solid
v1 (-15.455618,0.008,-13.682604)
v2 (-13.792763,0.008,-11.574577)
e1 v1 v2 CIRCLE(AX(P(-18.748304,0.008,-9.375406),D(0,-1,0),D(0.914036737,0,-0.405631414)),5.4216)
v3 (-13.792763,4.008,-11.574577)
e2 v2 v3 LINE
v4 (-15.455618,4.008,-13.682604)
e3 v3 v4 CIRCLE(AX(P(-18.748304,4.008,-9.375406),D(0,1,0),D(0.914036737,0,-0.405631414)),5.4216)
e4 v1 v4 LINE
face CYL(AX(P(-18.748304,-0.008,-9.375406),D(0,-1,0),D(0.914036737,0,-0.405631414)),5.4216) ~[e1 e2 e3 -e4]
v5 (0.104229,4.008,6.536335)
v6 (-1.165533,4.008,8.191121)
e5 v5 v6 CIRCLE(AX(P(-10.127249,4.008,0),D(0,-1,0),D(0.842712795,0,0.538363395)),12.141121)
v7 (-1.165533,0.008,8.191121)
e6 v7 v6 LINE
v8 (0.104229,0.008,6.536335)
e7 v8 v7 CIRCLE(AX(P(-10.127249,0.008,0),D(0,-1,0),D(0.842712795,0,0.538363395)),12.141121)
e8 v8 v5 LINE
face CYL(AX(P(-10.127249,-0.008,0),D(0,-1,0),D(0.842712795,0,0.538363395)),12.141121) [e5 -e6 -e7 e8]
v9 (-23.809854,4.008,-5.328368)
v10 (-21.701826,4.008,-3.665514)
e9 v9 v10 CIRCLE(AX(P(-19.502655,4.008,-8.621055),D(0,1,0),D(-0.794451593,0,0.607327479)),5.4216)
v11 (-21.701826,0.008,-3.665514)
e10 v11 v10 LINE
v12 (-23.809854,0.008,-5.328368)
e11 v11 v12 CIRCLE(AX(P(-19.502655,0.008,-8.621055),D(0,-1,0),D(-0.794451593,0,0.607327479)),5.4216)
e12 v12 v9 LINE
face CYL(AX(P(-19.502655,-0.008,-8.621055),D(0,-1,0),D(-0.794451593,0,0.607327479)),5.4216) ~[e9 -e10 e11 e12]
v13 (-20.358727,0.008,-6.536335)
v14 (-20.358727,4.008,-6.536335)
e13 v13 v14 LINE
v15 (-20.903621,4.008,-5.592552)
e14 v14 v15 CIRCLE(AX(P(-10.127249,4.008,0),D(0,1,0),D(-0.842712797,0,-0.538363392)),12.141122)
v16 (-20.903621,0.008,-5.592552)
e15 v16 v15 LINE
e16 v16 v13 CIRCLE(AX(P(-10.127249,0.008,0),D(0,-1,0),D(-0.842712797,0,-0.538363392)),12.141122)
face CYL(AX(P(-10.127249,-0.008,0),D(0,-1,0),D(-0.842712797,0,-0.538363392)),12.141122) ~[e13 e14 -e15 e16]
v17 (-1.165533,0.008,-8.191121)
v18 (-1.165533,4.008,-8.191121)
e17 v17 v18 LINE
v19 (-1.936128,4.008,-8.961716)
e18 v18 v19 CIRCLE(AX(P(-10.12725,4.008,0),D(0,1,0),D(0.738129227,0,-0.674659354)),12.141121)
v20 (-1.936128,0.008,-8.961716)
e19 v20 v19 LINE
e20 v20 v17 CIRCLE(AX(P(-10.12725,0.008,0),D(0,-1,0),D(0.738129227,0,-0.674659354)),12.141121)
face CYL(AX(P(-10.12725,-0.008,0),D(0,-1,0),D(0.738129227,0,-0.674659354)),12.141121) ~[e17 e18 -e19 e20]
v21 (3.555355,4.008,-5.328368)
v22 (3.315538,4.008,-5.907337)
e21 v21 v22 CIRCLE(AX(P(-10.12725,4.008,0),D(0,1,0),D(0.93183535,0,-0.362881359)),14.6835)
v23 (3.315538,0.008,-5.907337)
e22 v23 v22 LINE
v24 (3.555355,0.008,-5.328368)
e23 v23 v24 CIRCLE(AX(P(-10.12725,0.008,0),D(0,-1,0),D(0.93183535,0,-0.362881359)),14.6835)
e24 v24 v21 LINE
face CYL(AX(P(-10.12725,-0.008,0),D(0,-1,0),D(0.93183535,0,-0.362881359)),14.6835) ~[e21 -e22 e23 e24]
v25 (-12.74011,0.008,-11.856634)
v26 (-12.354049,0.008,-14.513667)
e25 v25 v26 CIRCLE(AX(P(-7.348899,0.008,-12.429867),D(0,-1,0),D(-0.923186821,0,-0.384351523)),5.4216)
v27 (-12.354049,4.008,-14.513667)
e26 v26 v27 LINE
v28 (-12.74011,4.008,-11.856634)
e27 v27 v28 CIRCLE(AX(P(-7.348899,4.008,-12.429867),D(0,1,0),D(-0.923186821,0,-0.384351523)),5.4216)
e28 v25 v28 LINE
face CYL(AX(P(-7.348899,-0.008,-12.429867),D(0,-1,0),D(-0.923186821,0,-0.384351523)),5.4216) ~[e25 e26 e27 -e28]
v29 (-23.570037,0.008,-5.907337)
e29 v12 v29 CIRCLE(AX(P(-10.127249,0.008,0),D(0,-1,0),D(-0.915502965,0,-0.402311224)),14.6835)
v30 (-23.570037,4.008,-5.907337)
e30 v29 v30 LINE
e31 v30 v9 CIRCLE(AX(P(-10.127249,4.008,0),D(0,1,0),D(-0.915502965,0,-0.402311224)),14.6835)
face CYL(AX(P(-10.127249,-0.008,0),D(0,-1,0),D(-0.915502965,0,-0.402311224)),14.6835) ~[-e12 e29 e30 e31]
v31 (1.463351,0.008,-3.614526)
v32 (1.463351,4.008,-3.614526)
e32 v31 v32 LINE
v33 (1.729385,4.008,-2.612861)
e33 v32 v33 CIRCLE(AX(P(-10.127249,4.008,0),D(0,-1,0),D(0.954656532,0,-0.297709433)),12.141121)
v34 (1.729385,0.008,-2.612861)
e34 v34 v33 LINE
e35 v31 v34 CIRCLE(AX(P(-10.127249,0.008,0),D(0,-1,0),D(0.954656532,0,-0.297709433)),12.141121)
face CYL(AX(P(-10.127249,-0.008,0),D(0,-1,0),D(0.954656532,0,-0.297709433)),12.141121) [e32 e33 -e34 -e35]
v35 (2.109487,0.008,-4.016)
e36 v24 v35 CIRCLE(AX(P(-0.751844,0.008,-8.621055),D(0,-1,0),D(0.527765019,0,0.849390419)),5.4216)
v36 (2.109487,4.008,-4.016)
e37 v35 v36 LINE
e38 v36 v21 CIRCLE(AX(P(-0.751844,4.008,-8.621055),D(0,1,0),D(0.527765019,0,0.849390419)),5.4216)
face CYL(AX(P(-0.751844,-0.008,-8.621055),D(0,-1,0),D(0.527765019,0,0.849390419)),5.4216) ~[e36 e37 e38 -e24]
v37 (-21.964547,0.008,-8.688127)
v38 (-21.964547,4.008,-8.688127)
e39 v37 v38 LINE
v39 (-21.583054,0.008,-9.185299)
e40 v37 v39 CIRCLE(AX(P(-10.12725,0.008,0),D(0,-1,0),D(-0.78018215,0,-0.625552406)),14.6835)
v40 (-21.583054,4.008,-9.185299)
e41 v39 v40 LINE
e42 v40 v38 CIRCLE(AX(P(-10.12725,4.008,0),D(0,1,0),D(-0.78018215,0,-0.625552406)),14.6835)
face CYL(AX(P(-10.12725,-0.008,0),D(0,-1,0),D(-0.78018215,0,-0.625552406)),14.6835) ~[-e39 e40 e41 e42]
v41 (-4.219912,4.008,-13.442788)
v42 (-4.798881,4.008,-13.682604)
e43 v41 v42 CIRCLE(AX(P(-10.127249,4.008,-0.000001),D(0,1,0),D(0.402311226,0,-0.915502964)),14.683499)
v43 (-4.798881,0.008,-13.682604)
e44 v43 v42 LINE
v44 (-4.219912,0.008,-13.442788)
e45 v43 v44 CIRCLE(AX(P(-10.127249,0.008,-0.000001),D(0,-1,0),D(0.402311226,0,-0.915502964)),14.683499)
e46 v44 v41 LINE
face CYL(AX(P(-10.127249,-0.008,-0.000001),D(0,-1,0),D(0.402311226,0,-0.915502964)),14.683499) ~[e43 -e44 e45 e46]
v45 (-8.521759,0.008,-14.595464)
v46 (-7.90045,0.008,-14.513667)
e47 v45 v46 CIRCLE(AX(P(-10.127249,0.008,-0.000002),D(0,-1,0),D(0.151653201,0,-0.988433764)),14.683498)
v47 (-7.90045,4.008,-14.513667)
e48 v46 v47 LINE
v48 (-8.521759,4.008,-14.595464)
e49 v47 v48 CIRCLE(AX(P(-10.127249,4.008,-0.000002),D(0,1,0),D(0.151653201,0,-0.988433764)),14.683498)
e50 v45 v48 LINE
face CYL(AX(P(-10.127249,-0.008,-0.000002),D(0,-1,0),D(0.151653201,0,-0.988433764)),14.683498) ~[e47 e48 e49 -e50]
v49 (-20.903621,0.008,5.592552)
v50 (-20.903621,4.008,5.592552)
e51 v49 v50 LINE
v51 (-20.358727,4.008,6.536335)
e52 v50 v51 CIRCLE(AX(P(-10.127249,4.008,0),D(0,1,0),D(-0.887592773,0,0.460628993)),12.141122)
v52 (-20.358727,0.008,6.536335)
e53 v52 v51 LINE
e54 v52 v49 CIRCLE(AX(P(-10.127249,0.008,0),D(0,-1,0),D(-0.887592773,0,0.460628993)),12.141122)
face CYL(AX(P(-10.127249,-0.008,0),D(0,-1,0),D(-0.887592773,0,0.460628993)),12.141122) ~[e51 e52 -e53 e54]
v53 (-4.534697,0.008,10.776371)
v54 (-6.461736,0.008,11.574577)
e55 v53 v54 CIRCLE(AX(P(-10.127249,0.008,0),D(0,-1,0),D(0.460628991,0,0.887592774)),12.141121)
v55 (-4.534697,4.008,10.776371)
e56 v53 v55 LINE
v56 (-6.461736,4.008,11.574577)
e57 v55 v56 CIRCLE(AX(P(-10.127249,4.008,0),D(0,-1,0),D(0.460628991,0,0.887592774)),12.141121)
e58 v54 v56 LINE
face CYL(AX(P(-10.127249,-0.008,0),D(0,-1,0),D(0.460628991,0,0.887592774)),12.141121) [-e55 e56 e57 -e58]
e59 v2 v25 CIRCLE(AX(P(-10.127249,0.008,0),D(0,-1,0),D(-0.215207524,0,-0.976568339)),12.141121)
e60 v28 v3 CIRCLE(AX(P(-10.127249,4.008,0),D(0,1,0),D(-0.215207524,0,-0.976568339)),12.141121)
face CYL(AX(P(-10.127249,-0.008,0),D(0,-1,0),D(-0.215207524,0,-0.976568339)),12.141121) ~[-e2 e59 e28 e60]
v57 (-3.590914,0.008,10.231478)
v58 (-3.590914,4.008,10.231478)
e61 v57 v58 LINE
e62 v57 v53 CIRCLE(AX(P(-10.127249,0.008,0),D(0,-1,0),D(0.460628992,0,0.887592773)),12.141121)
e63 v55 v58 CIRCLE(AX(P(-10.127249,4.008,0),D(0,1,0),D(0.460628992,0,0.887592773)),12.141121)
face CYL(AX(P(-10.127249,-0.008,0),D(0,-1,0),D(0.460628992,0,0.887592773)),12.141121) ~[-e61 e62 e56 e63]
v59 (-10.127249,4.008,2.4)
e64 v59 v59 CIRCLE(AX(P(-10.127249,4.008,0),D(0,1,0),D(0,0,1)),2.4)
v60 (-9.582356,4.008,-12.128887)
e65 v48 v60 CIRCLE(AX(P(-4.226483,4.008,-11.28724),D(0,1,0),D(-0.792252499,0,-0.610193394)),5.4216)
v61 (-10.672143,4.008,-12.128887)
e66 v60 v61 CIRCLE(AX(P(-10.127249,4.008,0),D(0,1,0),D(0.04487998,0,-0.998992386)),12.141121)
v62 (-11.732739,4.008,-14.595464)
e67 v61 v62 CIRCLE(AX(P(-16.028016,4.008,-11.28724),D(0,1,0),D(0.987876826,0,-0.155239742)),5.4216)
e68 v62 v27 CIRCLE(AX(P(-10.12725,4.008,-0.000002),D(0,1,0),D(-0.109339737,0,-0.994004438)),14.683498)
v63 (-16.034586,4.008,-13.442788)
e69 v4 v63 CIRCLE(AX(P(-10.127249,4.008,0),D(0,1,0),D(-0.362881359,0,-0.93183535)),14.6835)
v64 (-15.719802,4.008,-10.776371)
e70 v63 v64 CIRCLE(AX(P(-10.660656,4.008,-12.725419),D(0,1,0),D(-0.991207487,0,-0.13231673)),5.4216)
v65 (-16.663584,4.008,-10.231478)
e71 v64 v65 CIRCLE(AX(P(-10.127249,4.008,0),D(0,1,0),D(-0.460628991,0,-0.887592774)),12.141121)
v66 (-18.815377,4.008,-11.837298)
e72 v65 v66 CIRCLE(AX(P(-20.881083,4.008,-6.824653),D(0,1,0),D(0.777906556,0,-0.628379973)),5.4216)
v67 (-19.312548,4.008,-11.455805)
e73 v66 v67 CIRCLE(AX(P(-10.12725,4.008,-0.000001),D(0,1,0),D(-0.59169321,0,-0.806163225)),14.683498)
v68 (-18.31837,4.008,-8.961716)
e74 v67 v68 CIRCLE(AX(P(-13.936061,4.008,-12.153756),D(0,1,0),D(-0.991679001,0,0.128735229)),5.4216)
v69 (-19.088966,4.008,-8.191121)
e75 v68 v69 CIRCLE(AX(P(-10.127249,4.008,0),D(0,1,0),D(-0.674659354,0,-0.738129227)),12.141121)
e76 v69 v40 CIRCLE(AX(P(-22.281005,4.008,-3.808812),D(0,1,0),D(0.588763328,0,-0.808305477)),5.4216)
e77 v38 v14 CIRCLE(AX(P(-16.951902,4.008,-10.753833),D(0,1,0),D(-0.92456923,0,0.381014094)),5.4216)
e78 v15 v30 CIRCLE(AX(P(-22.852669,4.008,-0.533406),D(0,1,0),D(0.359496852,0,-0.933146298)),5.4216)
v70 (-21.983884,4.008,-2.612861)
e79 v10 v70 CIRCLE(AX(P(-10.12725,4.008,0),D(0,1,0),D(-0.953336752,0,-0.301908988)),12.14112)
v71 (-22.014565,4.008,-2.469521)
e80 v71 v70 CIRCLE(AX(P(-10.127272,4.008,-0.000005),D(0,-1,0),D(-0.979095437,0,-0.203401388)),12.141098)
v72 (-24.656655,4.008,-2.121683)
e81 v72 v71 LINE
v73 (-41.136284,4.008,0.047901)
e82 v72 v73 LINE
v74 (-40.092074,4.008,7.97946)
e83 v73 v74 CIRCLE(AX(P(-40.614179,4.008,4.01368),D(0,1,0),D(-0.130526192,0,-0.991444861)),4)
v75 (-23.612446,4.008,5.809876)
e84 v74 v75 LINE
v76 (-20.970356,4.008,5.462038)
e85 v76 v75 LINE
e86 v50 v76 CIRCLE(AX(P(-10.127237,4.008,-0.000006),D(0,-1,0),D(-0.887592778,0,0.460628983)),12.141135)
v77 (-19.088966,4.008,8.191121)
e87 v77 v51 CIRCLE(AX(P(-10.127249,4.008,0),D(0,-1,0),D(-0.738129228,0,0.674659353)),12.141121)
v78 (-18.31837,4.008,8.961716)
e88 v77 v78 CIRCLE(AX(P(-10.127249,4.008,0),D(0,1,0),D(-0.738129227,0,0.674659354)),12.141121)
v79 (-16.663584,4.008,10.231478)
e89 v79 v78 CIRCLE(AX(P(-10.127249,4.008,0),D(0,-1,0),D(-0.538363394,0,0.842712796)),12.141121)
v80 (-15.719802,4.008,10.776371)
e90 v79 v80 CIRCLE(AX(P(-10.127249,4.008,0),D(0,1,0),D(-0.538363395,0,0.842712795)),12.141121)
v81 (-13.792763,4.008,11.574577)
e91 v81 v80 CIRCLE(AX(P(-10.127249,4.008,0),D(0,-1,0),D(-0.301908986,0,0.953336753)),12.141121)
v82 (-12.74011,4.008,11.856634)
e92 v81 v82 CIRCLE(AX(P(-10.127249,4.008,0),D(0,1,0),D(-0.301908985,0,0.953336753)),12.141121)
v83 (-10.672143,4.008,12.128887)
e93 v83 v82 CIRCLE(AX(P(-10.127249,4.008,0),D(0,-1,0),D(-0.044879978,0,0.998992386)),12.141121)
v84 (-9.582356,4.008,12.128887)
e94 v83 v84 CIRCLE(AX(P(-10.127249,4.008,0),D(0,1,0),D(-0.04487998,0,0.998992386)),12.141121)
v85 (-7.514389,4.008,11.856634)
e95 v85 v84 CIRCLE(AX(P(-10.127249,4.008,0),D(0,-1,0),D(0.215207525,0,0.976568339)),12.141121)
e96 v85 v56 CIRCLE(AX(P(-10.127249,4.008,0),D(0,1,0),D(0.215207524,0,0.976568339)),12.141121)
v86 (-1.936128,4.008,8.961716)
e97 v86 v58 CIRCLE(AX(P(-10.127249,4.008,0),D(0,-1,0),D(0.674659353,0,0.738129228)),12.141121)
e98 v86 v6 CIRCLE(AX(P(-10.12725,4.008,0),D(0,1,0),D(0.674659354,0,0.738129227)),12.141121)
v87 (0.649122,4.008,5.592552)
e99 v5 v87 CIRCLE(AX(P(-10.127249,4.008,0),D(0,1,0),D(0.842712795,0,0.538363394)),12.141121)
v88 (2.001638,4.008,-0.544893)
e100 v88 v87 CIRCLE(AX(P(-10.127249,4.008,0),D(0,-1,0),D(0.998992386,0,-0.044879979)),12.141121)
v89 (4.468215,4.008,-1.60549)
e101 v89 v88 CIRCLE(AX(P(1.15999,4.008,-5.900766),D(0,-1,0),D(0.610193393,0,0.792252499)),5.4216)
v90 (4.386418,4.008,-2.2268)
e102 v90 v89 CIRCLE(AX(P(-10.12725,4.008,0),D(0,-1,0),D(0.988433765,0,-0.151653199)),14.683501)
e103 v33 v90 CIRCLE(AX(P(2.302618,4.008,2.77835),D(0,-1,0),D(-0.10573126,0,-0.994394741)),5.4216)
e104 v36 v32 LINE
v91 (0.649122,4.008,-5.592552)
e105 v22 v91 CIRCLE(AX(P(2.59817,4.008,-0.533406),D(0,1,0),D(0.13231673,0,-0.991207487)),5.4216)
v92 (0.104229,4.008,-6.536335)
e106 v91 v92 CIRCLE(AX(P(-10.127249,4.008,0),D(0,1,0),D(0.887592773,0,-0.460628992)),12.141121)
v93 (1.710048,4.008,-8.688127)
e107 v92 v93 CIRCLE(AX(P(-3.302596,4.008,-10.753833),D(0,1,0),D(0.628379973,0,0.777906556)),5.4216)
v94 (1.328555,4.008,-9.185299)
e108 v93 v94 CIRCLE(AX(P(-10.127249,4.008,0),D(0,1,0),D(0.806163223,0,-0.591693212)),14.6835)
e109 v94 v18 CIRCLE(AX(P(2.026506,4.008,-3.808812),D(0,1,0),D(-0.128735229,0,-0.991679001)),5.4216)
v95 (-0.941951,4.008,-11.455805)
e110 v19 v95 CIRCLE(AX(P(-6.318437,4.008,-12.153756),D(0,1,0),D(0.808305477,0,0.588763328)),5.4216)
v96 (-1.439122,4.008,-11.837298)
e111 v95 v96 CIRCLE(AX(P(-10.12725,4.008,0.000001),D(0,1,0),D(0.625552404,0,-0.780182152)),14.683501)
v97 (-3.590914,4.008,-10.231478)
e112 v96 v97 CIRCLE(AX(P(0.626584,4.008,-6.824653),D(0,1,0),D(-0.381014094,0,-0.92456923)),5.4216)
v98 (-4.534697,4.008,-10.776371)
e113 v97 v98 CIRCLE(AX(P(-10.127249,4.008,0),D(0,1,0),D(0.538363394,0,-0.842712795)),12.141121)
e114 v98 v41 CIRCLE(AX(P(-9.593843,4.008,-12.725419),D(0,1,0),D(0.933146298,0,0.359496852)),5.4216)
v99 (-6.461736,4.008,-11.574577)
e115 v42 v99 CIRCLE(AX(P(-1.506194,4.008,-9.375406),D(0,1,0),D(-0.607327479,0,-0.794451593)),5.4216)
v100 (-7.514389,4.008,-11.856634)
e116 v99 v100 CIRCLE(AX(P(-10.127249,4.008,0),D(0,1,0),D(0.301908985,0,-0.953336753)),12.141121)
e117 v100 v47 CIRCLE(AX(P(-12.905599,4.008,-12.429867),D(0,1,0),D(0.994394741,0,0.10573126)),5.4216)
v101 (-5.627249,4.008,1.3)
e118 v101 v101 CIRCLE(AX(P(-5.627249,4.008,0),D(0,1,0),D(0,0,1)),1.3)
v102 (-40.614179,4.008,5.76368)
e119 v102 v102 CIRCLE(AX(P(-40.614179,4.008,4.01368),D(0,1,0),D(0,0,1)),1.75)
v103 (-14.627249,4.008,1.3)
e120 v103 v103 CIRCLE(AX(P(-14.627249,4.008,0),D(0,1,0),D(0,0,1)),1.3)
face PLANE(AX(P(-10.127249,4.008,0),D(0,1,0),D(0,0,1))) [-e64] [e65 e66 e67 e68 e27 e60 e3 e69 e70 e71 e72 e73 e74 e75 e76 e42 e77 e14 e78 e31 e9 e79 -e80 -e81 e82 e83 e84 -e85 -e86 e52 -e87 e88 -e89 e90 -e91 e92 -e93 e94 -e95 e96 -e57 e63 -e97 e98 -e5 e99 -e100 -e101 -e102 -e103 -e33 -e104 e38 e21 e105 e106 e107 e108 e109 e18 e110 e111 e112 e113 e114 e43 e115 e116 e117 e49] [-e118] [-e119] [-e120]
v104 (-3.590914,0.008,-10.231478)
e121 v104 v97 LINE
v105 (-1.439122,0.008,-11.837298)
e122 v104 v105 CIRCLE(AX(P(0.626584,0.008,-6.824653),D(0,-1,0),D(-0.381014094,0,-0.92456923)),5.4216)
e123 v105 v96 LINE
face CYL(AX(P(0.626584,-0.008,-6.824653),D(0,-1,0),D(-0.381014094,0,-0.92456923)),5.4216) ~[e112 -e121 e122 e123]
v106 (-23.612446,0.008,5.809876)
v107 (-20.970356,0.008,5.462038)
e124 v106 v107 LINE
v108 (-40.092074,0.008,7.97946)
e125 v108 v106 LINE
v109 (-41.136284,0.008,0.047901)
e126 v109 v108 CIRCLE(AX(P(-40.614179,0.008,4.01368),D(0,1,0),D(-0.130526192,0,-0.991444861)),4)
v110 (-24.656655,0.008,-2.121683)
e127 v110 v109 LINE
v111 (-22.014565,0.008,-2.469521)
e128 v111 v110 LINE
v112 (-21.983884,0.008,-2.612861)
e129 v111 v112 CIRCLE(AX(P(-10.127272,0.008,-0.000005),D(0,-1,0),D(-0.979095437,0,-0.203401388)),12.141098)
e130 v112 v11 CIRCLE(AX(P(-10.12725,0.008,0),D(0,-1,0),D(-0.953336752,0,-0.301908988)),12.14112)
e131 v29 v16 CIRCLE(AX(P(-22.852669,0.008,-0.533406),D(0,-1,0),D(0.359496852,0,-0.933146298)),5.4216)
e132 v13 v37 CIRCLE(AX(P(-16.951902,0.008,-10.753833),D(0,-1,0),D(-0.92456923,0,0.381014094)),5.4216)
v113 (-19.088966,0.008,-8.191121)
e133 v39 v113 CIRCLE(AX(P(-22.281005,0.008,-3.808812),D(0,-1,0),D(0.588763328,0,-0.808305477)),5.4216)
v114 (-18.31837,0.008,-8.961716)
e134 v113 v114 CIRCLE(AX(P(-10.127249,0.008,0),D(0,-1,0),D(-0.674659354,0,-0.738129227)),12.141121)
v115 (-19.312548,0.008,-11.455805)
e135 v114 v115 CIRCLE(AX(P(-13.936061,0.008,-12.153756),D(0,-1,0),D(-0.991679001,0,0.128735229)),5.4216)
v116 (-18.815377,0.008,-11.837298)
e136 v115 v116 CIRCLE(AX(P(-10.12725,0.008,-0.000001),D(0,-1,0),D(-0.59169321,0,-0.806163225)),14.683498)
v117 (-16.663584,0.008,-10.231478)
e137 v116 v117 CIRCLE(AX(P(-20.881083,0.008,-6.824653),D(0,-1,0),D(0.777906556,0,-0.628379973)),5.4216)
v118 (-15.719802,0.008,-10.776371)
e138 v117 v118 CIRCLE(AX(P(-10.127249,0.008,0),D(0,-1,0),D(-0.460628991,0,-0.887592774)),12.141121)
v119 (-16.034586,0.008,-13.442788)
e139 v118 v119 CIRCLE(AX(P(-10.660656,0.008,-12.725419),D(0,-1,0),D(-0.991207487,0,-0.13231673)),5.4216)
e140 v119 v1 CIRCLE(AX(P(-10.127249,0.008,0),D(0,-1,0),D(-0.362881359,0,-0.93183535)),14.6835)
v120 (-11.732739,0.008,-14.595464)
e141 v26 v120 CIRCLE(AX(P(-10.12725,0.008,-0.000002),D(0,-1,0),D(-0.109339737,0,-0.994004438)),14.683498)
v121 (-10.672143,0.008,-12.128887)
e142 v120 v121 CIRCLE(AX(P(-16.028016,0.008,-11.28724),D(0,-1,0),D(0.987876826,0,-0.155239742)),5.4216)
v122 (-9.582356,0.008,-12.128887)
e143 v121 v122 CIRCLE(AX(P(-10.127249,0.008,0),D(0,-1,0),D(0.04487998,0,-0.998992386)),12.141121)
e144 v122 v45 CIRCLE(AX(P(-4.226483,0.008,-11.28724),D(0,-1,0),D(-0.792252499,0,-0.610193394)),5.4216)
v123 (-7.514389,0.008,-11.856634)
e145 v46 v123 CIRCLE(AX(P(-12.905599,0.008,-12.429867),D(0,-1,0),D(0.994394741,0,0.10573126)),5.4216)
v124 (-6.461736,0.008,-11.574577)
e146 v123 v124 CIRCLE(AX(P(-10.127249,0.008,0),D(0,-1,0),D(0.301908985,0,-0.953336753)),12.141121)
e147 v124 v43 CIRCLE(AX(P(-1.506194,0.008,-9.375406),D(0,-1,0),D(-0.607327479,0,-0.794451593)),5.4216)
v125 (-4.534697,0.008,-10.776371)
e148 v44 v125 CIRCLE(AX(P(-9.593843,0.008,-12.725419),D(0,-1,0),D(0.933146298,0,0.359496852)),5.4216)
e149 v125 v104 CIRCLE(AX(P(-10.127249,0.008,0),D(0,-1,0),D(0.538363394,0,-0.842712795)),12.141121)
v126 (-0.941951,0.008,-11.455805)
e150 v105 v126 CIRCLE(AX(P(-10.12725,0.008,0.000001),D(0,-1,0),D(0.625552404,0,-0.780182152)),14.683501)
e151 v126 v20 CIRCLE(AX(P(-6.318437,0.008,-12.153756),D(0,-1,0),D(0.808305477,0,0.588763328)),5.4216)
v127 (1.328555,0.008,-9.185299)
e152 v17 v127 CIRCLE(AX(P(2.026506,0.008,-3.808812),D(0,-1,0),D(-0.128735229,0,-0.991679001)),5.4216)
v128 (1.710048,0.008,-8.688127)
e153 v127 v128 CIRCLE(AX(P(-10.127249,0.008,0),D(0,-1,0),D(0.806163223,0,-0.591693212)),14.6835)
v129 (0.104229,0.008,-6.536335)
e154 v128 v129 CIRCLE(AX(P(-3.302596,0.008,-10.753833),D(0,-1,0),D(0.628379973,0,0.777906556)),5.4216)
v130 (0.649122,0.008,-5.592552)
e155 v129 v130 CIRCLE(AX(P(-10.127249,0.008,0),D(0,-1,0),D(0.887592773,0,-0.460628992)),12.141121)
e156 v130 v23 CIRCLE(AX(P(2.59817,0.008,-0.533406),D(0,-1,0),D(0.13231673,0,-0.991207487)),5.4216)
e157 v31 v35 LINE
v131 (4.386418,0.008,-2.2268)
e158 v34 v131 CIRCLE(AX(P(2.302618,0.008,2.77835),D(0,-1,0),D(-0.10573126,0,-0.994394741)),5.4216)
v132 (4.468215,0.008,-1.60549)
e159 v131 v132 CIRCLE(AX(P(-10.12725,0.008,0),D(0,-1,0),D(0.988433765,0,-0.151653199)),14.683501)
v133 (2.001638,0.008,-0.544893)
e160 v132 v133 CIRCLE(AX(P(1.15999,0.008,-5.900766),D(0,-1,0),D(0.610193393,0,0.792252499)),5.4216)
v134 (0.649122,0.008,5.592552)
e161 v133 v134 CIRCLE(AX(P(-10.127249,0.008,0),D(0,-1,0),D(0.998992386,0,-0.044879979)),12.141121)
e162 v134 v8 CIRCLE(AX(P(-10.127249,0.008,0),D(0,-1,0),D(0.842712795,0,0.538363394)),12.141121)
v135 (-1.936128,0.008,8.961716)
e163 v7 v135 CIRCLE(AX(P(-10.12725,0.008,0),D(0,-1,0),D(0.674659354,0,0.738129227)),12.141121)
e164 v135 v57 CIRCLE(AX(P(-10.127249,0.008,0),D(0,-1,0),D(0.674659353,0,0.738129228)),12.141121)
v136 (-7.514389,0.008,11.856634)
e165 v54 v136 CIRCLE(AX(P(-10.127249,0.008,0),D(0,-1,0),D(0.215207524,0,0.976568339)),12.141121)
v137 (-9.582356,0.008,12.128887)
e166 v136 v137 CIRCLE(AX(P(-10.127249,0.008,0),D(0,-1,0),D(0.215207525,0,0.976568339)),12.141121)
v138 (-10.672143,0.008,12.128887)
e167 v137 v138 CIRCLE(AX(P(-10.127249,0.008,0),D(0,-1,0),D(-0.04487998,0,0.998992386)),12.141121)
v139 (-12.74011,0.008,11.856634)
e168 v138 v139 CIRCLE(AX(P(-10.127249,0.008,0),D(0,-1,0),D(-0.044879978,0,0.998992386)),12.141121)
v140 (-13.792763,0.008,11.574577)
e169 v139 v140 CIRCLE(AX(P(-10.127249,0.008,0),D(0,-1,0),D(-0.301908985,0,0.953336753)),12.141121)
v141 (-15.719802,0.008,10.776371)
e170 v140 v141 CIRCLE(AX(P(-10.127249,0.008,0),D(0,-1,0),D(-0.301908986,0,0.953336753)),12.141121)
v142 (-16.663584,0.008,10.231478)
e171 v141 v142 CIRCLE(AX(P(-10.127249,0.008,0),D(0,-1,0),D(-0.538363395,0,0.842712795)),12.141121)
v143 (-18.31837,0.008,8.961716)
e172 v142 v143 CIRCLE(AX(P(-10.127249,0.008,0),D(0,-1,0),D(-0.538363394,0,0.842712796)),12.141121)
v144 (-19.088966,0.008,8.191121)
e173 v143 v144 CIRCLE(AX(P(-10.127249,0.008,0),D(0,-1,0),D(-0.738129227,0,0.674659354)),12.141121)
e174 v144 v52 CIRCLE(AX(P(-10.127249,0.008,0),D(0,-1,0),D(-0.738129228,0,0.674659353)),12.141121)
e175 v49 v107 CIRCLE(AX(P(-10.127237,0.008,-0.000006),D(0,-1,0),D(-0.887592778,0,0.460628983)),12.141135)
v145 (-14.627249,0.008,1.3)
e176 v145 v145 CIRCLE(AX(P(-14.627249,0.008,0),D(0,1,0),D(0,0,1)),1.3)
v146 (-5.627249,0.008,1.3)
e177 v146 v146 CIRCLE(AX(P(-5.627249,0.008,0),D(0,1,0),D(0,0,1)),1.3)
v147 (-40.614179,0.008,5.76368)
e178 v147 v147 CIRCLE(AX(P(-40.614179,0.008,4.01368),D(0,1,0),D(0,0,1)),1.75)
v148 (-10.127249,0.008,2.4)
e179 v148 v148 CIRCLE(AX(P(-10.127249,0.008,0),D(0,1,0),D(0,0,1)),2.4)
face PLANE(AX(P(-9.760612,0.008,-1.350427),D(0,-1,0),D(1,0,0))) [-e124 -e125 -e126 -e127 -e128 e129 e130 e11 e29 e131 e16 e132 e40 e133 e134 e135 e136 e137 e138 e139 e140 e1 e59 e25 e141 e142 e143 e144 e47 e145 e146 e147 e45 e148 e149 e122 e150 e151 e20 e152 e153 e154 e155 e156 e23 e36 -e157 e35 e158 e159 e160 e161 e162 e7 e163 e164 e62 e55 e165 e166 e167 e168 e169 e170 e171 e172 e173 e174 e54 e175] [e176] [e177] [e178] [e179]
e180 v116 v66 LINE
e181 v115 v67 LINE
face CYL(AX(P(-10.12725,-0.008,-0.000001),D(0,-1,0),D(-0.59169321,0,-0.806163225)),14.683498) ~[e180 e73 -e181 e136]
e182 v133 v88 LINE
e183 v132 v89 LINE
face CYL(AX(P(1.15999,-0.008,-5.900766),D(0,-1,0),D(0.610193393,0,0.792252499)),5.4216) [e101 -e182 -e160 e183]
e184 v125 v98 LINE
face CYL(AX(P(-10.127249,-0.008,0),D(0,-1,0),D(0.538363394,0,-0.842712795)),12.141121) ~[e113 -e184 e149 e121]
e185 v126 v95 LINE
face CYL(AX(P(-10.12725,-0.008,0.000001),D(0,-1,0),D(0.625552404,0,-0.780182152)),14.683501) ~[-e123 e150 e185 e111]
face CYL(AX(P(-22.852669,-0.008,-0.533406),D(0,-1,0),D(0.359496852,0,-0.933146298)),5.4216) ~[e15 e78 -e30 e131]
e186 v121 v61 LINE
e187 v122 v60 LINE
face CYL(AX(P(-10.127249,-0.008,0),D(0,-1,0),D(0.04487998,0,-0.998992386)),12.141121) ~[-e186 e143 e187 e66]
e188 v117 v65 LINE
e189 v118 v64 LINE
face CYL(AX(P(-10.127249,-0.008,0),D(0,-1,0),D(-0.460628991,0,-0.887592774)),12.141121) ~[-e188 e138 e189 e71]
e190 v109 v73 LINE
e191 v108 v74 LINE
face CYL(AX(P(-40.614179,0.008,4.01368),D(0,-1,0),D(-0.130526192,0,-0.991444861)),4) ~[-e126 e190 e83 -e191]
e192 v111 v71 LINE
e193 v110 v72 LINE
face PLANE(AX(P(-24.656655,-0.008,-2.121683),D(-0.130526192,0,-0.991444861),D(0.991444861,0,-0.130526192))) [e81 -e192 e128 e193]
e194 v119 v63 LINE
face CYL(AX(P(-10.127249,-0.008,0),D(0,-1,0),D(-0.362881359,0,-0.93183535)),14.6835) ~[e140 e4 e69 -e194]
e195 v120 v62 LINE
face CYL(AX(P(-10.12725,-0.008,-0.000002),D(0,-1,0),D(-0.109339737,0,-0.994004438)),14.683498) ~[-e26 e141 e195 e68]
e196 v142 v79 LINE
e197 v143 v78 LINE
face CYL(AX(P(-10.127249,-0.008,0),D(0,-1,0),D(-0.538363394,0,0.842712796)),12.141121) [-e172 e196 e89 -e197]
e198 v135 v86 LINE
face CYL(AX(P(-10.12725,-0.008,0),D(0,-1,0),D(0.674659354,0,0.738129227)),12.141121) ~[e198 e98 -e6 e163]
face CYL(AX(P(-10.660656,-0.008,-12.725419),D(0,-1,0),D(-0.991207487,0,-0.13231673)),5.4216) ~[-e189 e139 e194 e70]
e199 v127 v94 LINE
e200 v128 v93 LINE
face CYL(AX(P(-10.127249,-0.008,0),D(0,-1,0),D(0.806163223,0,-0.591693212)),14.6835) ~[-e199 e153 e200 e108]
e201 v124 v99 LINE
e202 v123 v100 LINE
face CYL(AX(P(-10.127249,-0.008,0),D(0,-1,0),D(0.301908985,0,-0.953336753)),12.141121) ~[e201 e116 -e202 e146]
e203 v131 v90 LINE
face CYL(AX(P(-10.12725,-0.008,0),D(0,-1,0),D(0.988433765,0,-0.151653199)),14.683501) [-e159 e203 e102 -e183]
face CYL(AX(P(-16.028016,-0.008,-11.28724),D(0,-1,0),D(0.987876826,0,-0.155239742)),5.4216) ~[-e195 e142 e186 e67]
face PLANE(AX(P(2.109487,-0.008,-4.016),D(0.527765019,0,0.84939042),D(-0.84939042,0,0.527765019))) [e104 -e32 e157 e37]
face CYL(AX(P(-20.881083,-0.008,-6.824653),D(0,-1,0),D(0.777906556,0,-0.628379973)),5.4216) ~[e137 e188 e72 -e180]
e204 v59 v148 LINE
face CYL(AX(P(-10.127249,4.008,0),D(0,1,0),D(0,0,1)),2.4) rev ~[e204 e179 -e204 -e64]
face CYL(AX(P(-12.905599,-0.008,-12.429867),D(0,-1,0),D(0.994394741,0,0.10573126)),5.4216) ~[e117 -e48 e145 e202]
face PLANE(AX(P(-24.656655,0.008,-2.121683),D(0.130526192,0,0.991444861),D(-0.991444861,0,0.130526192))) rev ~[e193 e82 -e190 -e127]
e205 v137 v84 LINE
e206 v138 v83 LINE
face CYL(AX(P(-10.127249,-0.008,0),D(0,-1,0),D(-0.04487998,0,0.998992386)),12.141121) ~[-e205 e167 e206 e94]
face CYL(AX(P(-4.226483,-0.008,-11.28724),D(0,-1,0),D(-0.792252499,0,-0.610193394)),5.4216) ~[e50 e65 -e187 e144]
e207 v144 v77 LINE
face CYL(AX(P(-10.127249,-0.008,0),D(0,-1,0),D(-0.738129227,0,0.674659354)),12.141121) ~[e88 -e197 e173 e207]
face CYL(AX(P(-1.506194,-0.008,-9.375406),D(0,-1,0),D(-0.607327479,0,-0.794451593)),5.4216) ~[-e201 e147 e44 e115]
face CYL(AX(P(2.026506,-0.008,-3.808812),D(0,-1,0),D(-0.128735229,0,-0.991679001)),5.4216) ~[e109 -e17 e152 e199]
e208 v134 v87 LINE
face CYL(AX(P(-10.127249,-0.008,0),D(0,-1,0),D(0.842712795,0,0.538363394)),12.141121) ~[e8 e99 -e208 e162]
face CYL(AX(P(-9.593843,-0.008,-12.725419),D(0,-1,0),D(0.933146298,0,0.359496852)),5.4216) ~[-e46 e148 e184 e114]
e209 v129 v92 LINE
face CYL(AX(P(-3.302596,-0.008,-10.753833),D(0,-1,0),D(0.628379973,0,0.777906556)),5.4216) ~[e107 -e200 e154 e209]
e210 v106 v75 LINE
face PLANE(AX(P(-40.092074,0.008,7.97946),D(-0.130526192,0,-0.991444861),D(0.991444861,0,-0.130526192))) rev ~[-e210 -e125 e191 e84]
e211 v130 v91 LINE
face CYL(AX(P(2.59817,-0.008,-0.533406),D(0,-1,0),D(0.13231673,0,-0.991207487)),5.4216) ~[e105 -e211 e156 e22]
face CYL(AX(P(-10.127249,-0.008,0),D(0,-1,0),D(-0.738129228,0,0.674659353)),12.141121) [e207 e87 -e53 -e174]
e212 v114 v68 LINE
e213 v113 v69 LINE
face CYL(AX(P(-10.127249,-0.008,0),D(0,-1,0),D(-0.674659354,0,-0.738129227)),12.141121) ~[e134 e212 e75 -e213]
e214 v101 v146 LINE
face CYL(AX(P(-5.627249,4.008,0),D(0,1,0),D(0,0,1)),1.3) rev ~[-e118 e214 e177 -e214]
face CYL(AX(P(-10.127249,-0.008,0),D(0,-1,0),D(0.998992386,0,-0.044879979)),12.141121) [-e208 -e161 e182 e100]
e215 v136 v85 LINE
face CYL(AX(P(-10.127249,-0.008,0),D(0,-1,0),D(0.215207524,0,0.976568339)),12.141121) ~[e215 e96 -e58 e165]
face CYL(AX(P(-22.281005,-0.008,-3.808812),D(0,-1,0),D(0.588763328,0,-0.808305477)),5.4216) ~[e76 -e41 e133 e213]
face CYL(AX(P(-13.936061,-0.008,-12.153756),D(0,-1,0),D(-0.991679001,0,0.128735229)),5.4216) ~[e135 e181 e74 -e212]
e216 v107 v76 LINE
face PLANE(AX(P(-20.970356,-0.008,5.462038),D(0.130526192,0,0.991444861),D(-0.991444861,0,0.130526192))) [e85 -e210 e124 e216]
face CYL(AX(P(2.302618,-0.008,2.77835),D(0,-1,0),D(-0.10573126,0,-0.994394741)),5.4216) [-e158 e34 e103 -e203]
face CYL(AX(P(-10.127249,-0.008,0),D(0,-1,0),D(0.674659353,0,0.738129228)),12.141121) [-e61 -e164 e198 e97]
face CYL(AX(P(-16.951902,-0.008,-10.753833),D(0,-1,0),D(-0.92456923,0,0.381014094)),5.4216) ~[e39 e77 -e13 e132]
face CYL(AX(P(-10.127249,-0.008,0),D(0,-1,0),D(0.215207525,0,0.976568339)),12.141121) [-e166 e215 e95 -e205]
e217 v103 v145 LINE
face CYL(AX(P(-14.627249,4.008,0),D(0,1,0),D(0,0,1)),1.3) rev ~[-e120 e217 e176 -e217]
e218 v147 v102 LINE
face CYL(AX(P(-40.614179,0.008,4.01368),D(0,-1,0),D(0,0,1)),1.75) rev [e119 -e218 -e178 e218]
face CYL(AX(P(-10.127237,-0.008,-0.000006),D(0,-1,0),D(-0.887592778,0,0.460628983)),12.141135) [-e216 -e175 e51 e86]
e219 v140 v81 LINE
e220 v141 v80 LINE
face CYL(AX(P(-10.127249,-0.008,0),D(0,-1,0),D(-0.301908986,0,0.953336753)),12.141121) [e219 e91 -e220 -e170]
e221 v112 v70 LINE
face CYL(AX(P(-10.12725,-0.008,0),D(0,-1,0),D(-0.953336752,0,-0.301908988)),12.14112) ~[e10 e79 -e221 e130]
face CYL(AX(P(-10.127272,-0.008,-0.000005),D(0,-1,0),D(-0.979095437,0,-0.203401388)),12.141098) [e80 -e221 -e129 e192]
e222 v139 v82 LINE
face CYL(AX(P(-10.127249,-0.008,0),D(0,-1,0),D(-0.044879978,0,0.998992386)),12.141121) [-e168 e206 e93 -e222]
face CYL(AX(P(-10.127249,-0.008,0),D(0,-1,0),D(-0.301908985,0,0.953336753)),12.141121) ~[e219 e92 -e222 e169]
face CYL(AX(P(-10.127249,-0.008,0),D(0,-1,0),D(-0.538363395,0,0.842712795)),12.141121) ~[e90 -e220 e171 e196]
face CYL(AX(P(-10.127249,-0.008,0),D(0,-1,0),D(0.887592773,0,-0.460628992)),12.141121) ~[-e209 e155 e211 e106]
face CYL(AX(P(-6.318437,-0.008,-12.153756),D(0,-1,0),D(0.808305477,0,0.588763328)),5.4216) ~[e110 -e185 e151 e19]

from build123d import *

# Parameters (mm, degrees)
SKETCH1_R           = 1.5
BOSS_EXTRUDE1_DEPTH = 4
SCALE1_SCALE        = 1.004
BOSS_EXTRUDE2_START = -4
SKETCH3_R           = 1.506
SKETCH3_R_2         = 1.5
SKETCH3_R_3         = 1.75
BOSS_EXTRUDE2_DEPTH = 4
CUT_EXTRUDE1_START  = -4.016
CUT_EXTRUDE1_DEPTH  = 4.016
CUT_EXTRUDE2_REACH  = 49.112
SKETCH5_R           = 1.3
SKETCH5_R_2         = 2.4
SKETCH6_W           = 34.675859163
SKETCH6_H           = 30.444089621
CUT_EXTRUDE3_DEPTH  = 0.016


with BuildPart() as part:
    # Sketch1 → Boss-Extrude1 (new body)
    with BuildSketch(Plane(origin=(0, 0, 0), x_dir=(1, 0, 0), z_dir=(0, 1, 0))):
        with BuildLine():
            Line((20.643657446, 4), (2.081641936, 4))
            ThreePointArc((2.081641936, 4), (2.861028333, 4.588201733), (3.521749436, 5.30713988))
            ThreePointArc((3.521749436, 5.30713988), (3.405395609, 5.596745198), (3.282888305, 5.883801663))
            ThreePointArc((3.282888305, 5.883801663), (1.93527598, 5.894040025), (0.627094961, 5.57027124))
            ThreePointArc((0.627094961, 5.57027124), (0.366286148, 6.046375), (0.084372603, 6.510293938))
            ThreePointArc((0.084372603, 6.510293938), (1.018855105, 7.48132754), (1.683794586, 8.65351323))
            ThreePointArc((1.683794586, 8.65351323), (1.496450048, 8.903135899), (1.303821399, 9.148703928))
            ThreePointArc((1.303821399, 9.148703928), (-0.000522033, 8.809805691), (-1.180330337, 8.158486898))
            ThreePointArc((-1.180330337, 8.158486898), (-1.555477026, 8.550865528), (-1.947855656, 8.926012217))
            ThreePointArc((-1.947855656, 8.926012217), (-1.296536862, 10.105820521), (-0.957638625, 11.410163953))
            ThreePointArc((-0.957638625, 11.410163953), (-1.203206655, 11.602792602), (-1.452829324, 11.79013714))
            ThreePointArc((-1.452829324, 11.79013714), (-2.625015014, 11.125197659), (-3.596048616, 10.190715157))
            ThreePointArc((-3.596048616, 10.190715157), (-4.059967554, 10.472628702), (-4.536071314, 10.733437515))
            ThreePointArc((-4.536071314, 10.733437515), (-4.212302529, 12.041618533), (-4.222540891, 13.389230859))
            ThreePointArc((-4.222540891, 13.389230859), (-4.509597355, 13.511738163), (-4.799202674, 13.62809199))
            ThreePointArc((-4.799202674, 13.62809199), (-5.759348103, 12.682425791), (-6.455432668, 11.528463019))
            ThreePointArc((-6.455432668, 11.528463019), (-6.976508546, 11.680699536), (-7.503891752, 11.809396783))
            ThreePointArc((-7.503891752, 11.809396783), (-7.529737283, 13.156800143), (-7.888414517, 14.455843809))
            ThreePointArc((-7.888414517, 14.455843809), (-8.197396993, 14.499881098), (-8.507248835, 14.537314892))
            ThreePointArc((-8.507248835, 14.537314892), (-9.18992168, 13.375367565), (-9.563620196, 12.080565177))
            ThreePointArc((-9.563620196, 12.080565177), (-10.106342554, 12.09275), (-10.649064912, 12.080565177))
            ThreePointArc((-10.649064912, 12.080565177), (-11.022763428, 13.375367565), (-11.705436272, 14.537314892))
            ThreePointArc((-11.705436272, 14.537314892), (-12.015288115, 14.499881098), (-12.324270591, 14.455843809))
            ThreePointArc((-12.324270591, 14.455843809), (-12.682947825, 13.156800143), (-12.708793355, 11.809396783))
            ThreePointArc((-12.708793355, 11.809396783), (-13.236176561, 11.680699536), (-13.757252439, 11.528463019))
            ThreePointArc((-13.757252439, 11.528463019), (-14.453337005, 12.682425791), (-15.413482434, 13.62809199))
            ThreePointArc((-15.413482434, 13.62809199), (-15.703087752, 13.511738163), (-15.990144217, 13.389230859))
            ThreePointArc((-15.990144217, 13.389230859), (-16.000382579, 12.041618533), (-15.676613793, 10.733437515))
            ThreePointArc((-15.676613793, 10.733437515), (-16.152717554, 10.472628702), (-16.616636492, 10.190715157))
            ThreePointArc((-16.616636492, 10.190715157), (-17.587670094, 11.125197659), (-18.759855783, 11.79013714))
            ThreePointArc((-18.759855783, 11.79013714), (-19.009478453, 11.602792602), (-19.255046482, 11.410163953))
            ThreePointArc((-19.255046482, 11.410163953), (-18.916148245, 10.105820521), (-18.264829452, 8.926012217))
            ThreePointArc((-18.264829452, 8.926012217), (-18.657208082, 8.550865528), (-19.032354771, 8.158486898))
            ThreePointArc((-19.032354771, 8.158486898), (-20.212163074, 8.809805691), (-21.516506507, 9.148703928))
            ThreePointArc((-21.516506507, 9.148703928), (-21.709135156, 8.903135899), (-21.896479694, 8.65351323))
            ThreePointArc((-21.896479694, 8.65351323), (-21.231540213, 7.48132754), (-20.297057711, 6.510293938))
            ThreePointArc((-20.297057711, 6.510293938), (-20.578971255, 6.046375), (-20.839780068, 5.57027124))
            ThreePointArc((-20.839780068, 5.57027124), (-22.147961087, 5.894040025), (-23.495573413, 5.883801663))
            ThreePointArc((-23.495573413, 5.883801663), (-23.618080717, 5.596745198), (-23.734434544, 5.30713988))
            ThreePointArc((-23.734434544, 5.30713988), (-22.788768345, 4.346994451), (-21.634805572, 3.650909885))
            ThreePointArc((-21.634805572, 3.650909885), (-21.78704209, 3.129834008), (-21.915739337, 2.602450802))
            ThreePointArc((-21.915739337, 2.602450802), (-23.263142697, 2.576605271), (-24.562186363, 2.217928037))
            ThreePointArc((-24.562186363, 2.217928037), (-24.606223651, 1.908945561), (-24.643657446, 1.599093719))
            ThreePointArc((-24.643657446, 1.599093719), (-23.481710119, 0.916420874), (-22.186907731, 0.542722358))
            ThreePointArc((-22.186907731, 0.542722358), (-22.199092554, 0), (-22.186907731, -0.542722358))
            ThreePointArc((-22.186907731, -0.542722358), (-23.481710119, -0.916420874), (-24.643657446, -1.599093719))
            ThreePointArc((-24.643657446, -1.599093719), (-24.606223651, -1.908945561), (-24.562186363, -2.217928037))
            ThreePointArc((-24.562186363, -2.217928037), (-23.263142697, -2.576605271), (-21.915739337, -2.602450802))
            ThreePointArc((-21.915739337, -2.602450802), (-21.78704209, -3.129834008), (-21.634805572, -3.650909885))
            ThreePointArc((-21.634805572, -3.650909885), (-22.788768345, -4.346994451), (-23.734434544, -5.30713988))
            ThreePointArc((-23.734434544, -5.30713988), (-23.618080717, -5.596745198), (-23.495573413, -5.883801663))
            ThreePointArc((-23.495573413, -5.883801663), (-22.147961087, -5.894040025), (-20.839780068, -5.57027124))
            ThreePointArc((-20.839780068, -5.57027124), (-20.578971255, -6.046375), (-20.297057711, -6.510293938))
            ThreePointArc((-20.297057711, -6.510293938), (-21.231540213, -7.48132754), (-21.896479694, -8.65351323))
            ThreePointArc((-21.896479694, -8.65351323), (-21.709135156, -8.903135899), (-21.516506507, -9.148703928))
            ThreePointArc((-21.516506507, -9.148703928), (-20.212163074, -8.809805691), (-19.032354771, -8.158486898))
            ThreePointArc((-19.032354771, -8.158486898), (-18.657208082, -8.550865528), (-18.264829452, -8.926012217))
            ThreePointArc((-18.264829452, -8.926012217), (-18.916148245, -10.105820521), (-19.255046482, -11.410163953))
            ThreePointArc((-19.255046482, -11.410163953), (-19.009478453, -11.602792602), (-18.759855783, -11.79013714))
            ThreePointArc((-18.759855783, -11.79013714), (-17.587670094, -11.125197659), (-16.616636492, -10.190715157))
            ThreePointArc((-16.616636492, -10.190715157), (-16.152717554, -10.472628702), (-15.676613793, -10.733437515))
            ThreePointArc((-15.676613793, -10.733437515), (-16.000382579, -12.041618533), (-15.990144217, -13.389230859))
            ThreePointArc((-15.990144217, -13.389230859), (-15.703087752, -13.511738163), (-15.413482434, -13.62809199))
            ThreePointArc((-15.413482434, -13.62809199), (-14.453337005, -12.682425791), (-13.757252439, -11.528463019))
            ThreePointArc((-13.757252439, -11.528463019), (-13.236176561, -11.680699536), (-12.708793355, -11.809396783))
            ThreePointArc((-12.708793355, -11.809396783), (-12.682947825, -13.156800143), (-12.324270591, -14.455843809))
            ThreePointArc((-12.324270591, -14.455843809), (-12.015288115, -14.499881098), (-11.705436272, -14.537314892))
            ThreePointArc((-11.705436272, -14.537314892), (-11.022763428, -13.375367565), (-10.649064912, -12.080565177))
            ThreePointArc((-10.649064912, -12.080565177), (-10.106342554, -12.09275), (-9.563620196, -12.080565177))
            ThreePointArc((-9.563620196, -12.080565177), (-9.18992168, -13.375367565), (-8.507248835, -14.537314892))
            ThreePointArc((-8.507248835, -14.537314892), (-8.197396993, -14.499881098), (-7.888414517, -14.455843809))
            ThreePointArc((-7.888414517, -14.455843809), (-7.529737283, -13.156800143), (-7.503891752, -11.809396783))
            ThreePointArc((-7.503891752, -11.809396783), (-6.976508546, -11.680699536), (-6.455432668, -11.528463019))
            ThreePointArc((-6.455432668, -11.528463019), (-5.759348103, -12.682425791), (-4.799202674, -13.62809199))
            ThreePointArc((-4.799202674, -13.62809199), (-4.509597355, -13.511738163), (-4.222540891, -13.389230859))
            ThreePointArc((-4.222540891, -13.389230859), (-4.212302529, -12.041618533), (-4.536071314, -10.733437515))
            ThreePointArc((-4.536071314, -10.733437515), (-4.059967554, -10.472628702), (-3.596048616, -10.190715157))
            ThreePointArc((-3.596048616, -10.190715157), (-2.625015014, -11.125197659), (-1.452829324, -11.79013714))
            ThreePointArc((-1.452829324, -11.79013714), (-1.203206655, -11.602792602), (-0.957638625, -11.410163953))
            ThreePointArc((-0.957638625, -11.410163953), (-1.296536862, -10.105820521), (-1.947855656, -8.926012217))
            ThreePointArc((-1.947855656, -8.926012217), (-1.555477026, -8.550865528), (-1.180330337, -8.158486898))
            ThreePointArc((-1.180330337, -8.158486898), (-0.000522033, -8.809805691), (1.303821399, -9.148703928))
            ThreePointArc((1.303821399, -9.148703928), (1.496450048, -8.903135899), (1.683794586, -8.65351323))
            ThreePointArc((1.683794586, -8.65351323), (1.018855105, -7.48132754), (0.084372603, -6.510293938))
            ThreePointArc((0.084372603, -6.510293938), (0.366286148, -6.046375), (0.627094961, -5.57027124))
            ThreePointArc((0.627094961, -5.57027124), (1.93527598, -5.894040025), (3.282888305, -5.883801663))
            ThreePointArc((3.282888305, -5.883801663), (3.405395609, -5.596745198), (3.521749436, -5.30713988))
            ThreePointArc((3.521749436, -5.30713988), (2.861028333, -4.588201733), (2.081641936, -4))
            Line((2.081641936, -4), (20.643657446, -4))
            ThreePointArc((20.643657446, -4), (24.643657446, 0), (20.643657446, 4))
        make_face()
        with Locations(Location((-10.106342554, 0, 0), (0, 0, 270))):
            Circle(SKETCH1_R, mode=Mode.SUBTRACT)
        with Locations(Location((20.643657446, 0, 0), (0, 0, 270))):
            Circle(SKETCH1_R, mode=Mode.SUBTRACT)
    extrude(amount=BOSS_EXTRUDE1_DEPTH)


with BuildPart() as part_1:
    # Scale1: scaled about (-4.879650277, 2, 0)
    add(part.part.scale(SCALE1_SCALE).moved(Location((0.019518601, -0.008, 0))))

    # Sketch3 → Boss-Extrude2 (add)
    # profile 1 of 2: a face of its own
    with BuildSketch(Plane(origin=(0, 4.008, 0), x_dir=(1, 0, 0), z_dir=(0, 1, 0)).offset(BOSS_EXTRUDE2_START)):
        with Locations(Location((-10.127249323, 0, 0), (0, 0, 270))):
            Circle(SKETCH3_R)
        with Locations(Location((-10.127249323, 0, 0), (0, 0, 270))):
            Circle(SKETCH3_R_2, mode=Mode.SUBTRACT)
    # profile 2 of 2: a face of its own
    with BuildSketch(Plane(origin=(0, 4.008, 0), x_dir=(1, 0, 0), z_dir=(0, 1, 0)).offset(BOSS_EXTRUDE2_START)):
        with BuildLine():
            ThreePointArc((-24.640916507, -2.226799749), (-24.685129945, -1.916581343), (-24.722713475, -1.605490094))
            ThreePointArc((-24.722713475, -1.605490094), (-23.556118358, -0.920086558), (-22.256136761, -0.544893247))
            ThreePointArc((-22.256136761, -0.544893247), (-22.268370323, 0), (-22.256136761, 0.544893247))
            ThreePointArc((-22.256136761, 0.544893247), (-23.556118358, 0.920086558), (-24.722713475, 1.605490094))
            ThreePointArc((-24.722713475, 1.605490094), (-24.69197129, 1.863879361), (-24.656655102, 2.121683283))
            Line((-24.656655102, 2.121683283), (-41.136283579, -0.047900965))
            ThreePointArc((-41.136283579, -0.047900965), (-44.579958256, -4.53578518), (-40.092074041, -7.979459856))
            Line((-40.092074041, -7.979459856), (-23.612445564, -5.809875608))
            ThreePointArc((-23.612445564, -5.809875608), (-23.713282947, -5.569996643), (-23.809853681, -5.32836844))
            ThreePointArc((-23.809853681, -5.32836844), (-22.860404818, -4.364382429), (-21.701826194, -3.665513525))
            ThreePointArc((-21.701826194, -3.665513525), (-21.854671657, -3.142353344), (-21.983883693, -2.612860605))
            ThreePointArc((-21.983883693, -2.612860605), (-23.336676666, -2.586911692), (-24.640916507, -2.226799749))
        make_face()
        with Locations(Location((-40.61417881, -4.013680411, 0), (0, 0, 270))):
            Circle(SKETCH3_R_3, mode=Mode.SUBTRACT)
    extrude(amount=BOSS_EXTRUDE2_DEPTH)

    # Sketch4 → Cut-Extrude1 (cut)
    with BuildSketch(Plane(origin=(0, 4.008, 0), x_dir=(1, 0, 0), z_dir=(0, 1, 0)).offset(CUT_EXTRUDE1_START)):
        with BuildLine():
            ThreePointArc((20.745750677, -4.016), (24.761750677, 0), (20.745750677, 4.016))
            Line((20.745750677, 4.016), (2.109487105, 4.016))
            Line((2.109487105, 4.016), (1.463351142, 3.614526248))
            ThreePointArc((1.463351142, 3.614526248), (1.607061005, 3.116533373), (1.729385048, 2.612860605))
            ThreePointArc((1.729385048, 2.612860605), (3.08217802, 2.586911692), (4.386417861, 2.226799749))
            ThreePointArc((4.386417861, 2.226799749), (4.430631299, 1.916581343), (4.468214829, 1.605490094))
            ThreePointArc((4.468214829, 1.605490094), (3.301619712, 0.920086558), (2.001638115, 0.544893247))
            ThreePointArc((2.001638115, 0.544893247), (1.729385048, -2.612860605), (0.649121942, -5.592552325))
            ThreePointArc((0.649121942, -5.592552325), (1.962535685, -5.917616185), (3.315538459, -5.907336869))
            ThreePointArc((3.315538459, -5.907336869), (3.438535793, -5.619132179), (3.555355035, -5.32836844))
            ThreePointArc((3.555355035, -5.32836844), (2.891991048, -4.60655454), (2.109487105, -4.016))
            Line((2.109487105, -4.016), (20.745750677, -4.016))
        make_face()
        with BuildLine():
            ThreePointArc((1.710048366, -8.688127282), (1.042449127, -7.51125285), (0.104228694, -6.536335114))
            ThreePointArc((0.104228694, -6.536335114), (-0.495050423, -7.39104617), (-1.165533057, -8.191120846))
            ThreePointArc((-1.165533057, -8.191120846), (0.01899448, -8.845044914), (1.328555286, -9.185298744))
            ThreePointArc((1.328555286, -9.185298744), (1.521954449, -8.938748443), (1.710048366, -8.688127282))
        make_face()
        with BuildLine():
            ThreePointArc((-0.941950579, -11.455804609), (-1.282204409, -10.146243803), (-1.936128477, -8.961716266))
            ThreePointArc((-1.936128477, -8.961716266), (-2.736203153, -9.6321989), (-3.590914209, -10.231478017))
            ThreePointArc((-3.590914209, -10.231478017), (-2.615996473, -11.16969845), (-1.43912204, -11.837297689))
            ThreePointArc((-1.43912204, -11.837297689), (-1.18850088, -11.649203772), (-0.941950579, -11.455804609))
        make_face()
        with BuildLine():
            ThreePointArc((-4.219912453, -13.442787782), (-4.209633138, -12.089785007), (-4.534696998, -10.776371265))
            ThreePointArc((-4.534696998, -10.776371265), (-5.481043466, -11.216933194), (-6.461735798, -11.574576871))
            ThreePointArc((-6.461735798, -11.574576871), (-5.762866894, -12.733155495), (-4.798880883, -13.682604358))
            ThreePointArc((-4.798880883, -13.682604358), (-4.508117144, -13.565785116), (-4.219912453, -13.442787782))
        make_face()
        with BuildLine():
            ThreePointArc((-7.900449573, -14.513667184), (-7.540337631, -13.209427343), (-7.514388718, -11.856634371))
            ThreePointArc((-7.514388718, -11.856634371), (-8.54251503, -12.037252027), (-9.582356076, -12.128887438))
            ThreePointArc((-9.582356076, -12.128887438), (-9.207162765, -13.428869035), (-8.521759229, -14.595464152))
            ThreePointArc((-8.521759229, -14.595464152), (-8.210667979, -14.557880622), (-7.900449573, -14.513667184))
        make_face()
        with BuildLine():
            ThreePointArc((-11.732739416, -14.595464152), (-11.047335881, -13.428869035), (-10.67214257, -12.128887438))
            ThreePointArc((-10.67214257, -12.128887438), (-11.711983616, -12.037252027), (-12.740109928, -11.856634371))
            ThreePointArc((-12.740109928, -11.856634371), (-12.714161015, -13.209427343), (-12.354049072, -14.513667184))
            ThreePointArc((-12.354049072, -14.513667184), (-12.043830666, -14.557880622), (-11.732739416, -14.595464152))
        make_face()
        with BuildLine():
            ThreePointArc((-15.455617763, -13.682604358), (-14.491631752, -12.733155495), (-13.792762848, -11.574576871))
            ThreePointArc((-13.792762848, -11.574576871), (-14.77345518, -11.216933194), (-15.719801648, -10.776371265))
            ThreePointArc((-15.719801648, -10.776371265), (-16.044865508, -12.089785007), (-16.034586192, -13.442787782))
            ThreePointArc((-16.034586192, -13.442787782), (-15.746381502, -13.565785116), (-15.455617763, -13.682604358))
        make_face()
        with BuildLine():
            ThreePointArc((-18.815376605, -11.837297689), (-17.638502173, -11.16969845), (-16.663584436, -10.231478017))
            ThreePointArc((-16.663584436, -10.231478017), (-17.518295493, -9.6321989), (-18.318370168, -8.961716266))
            ThreePointArc((-18.318370168, -8.961716266), (-18.972294237, -10.146243803), (-19.312548067, -11.455804609))
            ThreePointArc((-19.312548067, -11.455804609), (-19.065997766, -11.649203772), (-18.815376605, -11.837297689))
        make_face()
        with BuildLine():
            ThreePointArc((-21.583053932, -9.185298744), (-20.273493126, -8.845044914), (-19.088965589, -8.191120846))
            ThreePointArc((-19.088965589, -8.191120846), (-19.759448223, -7.39104617), (-20.35872734, -6.536335114))
            ThreePointArc((-20.35872734, -6.536335114), (-21.296947773, -7.51125285), (-21.964547012, -8.688127282))
            ThreePointArc((-21.964547012, -8.688127282), (-21.776453095, -8.938748443), (-21.583053932, -9.185298744))
        make_face()
        with BuildLine():
            ThreePointArc((-22.014565473, 2.469520982), (-21.999440913, 2.541237098), (-21.983883693, 2.612860605))
            ThreePointArc((-21.983883693, 2.612860605), (-23.336676666, 2.586911692), (-24.640916507, 2.226799749))
            ThreePointArc((-24.640916507, 2.226799749), (-24.648880917, 2.174255757), (-24.656655102, 2.121683283))
            Line((-24.656655102, 2.121683283), (-22.014565473, 2.469520982))
        make_face()
        with BuildLine():
            ThreePointArc((-23.570037105, -5.907336869), (-22.21703433, -5.917616185), (-20.903620588, -5.592552325))
            ThreePointArc((-20.903620588, -5.592552325), (-20.937185235, -5.527395835), (-20.970355936, -5.462037909))
            Line((-20.970355936, -5.462037909), (-23.612445564, -5.809875608))
            ThreePointArc((-23.612445564, -5.809875608), (-23.591329521, -5.858644611), (-23.570037105, -5.907336869))
        make_face()
    extrude(amount=CUT_EXTRUDE1_DEPTH, mode=Mode.SUBTRACT)

    # Sketch5 → Cut-Extrude2 (cut, up to next)
    with BuildSketch(Plane(origin=(0, 4.008, 0), x_dir=(1, 0, 0), z_dir=(0, 1, 0)), mode=Mode.PRIVATE) as cut_extrude2_sk1:
        with Locations(Location((-14.627249323, 0, 0), (0, 0, 270))):
            Circle(SKETCH5_R)
    cut_extrude2_tool1 = extrude(cut_extrude2_sk1.sketch, amount=-CUT_EXTRUDE2_REACH, mode=Mode.PRIVATE) & part_1.part
    # Sketch5 → Cut-Extrude2 (cut, up to next)
    with BuildSketch(Plane(origin=(0, 4.008, 0), x_dir=(1, 0, 0), z_dir=(0, 1, 0)), mode=Mode.PRIVATE) as cut_extrude2_sk2:
        with Locations(Location((-5.627249323, 0, 0), (0, 0, 270))):
            Circle(SKETCH5_R)
    cut_extrude2_tool2 = extrude(cut_extrude2_sk2.sketch, amount=-CUT_EXTRUDE2_REACH, mode=Mode.PRIVATE) & part_1.part
    # Sketch5 → Cut-Extrude2 (cut, up to next)
    with BuildSketch(Plane(origin=(0, 4.008, 0), x_dir=(1, 0, 0), z_dir=(0, 1, 0)), mode=Mode.PRIVATE) as cut_extrude2_sk3:
        with Locations(Location((-10.127249323, 0, 0), (0, 0, 270))):
            Circle(SKETCH5_R_2)
    cut_extrude2_tool3 = extrude(cut_extrude2_sk3.sketch, amount=-CUT_EXTRUDE2_REACH, mode=Mode.PRIVATE) & part_1.part
    add(cut_extrude2_tool1.solids().sort_by_distance((-14.627249, 4.008, 0))[0], mode=Mode.SUBTRACT)
    add(cut_extrude2_tool2.solids().sort_by_distance((-5.627249, 4.008, 0))[0], mode=Mode.SUBTRACT)
    add(cut_extrude2_tool3.solids().sort_by_distance((-10.127249, 4.008, 0))[0], mode=Mode.SUBTRACT)

    # Sketch6 → Cut-Extrude3 (cut)
    with BuildSketch(Plane.XZ.offset(0.008)):
        with Locations((-9.760611553, -1.350426999)):
            Rectangle(SKETCH6_W, SKETCH6_H)
    extrude(amount=-CUT_EXTRUDE3_DEPTH, mode=Mode.SUBTRACT)


solid = part_1.part
